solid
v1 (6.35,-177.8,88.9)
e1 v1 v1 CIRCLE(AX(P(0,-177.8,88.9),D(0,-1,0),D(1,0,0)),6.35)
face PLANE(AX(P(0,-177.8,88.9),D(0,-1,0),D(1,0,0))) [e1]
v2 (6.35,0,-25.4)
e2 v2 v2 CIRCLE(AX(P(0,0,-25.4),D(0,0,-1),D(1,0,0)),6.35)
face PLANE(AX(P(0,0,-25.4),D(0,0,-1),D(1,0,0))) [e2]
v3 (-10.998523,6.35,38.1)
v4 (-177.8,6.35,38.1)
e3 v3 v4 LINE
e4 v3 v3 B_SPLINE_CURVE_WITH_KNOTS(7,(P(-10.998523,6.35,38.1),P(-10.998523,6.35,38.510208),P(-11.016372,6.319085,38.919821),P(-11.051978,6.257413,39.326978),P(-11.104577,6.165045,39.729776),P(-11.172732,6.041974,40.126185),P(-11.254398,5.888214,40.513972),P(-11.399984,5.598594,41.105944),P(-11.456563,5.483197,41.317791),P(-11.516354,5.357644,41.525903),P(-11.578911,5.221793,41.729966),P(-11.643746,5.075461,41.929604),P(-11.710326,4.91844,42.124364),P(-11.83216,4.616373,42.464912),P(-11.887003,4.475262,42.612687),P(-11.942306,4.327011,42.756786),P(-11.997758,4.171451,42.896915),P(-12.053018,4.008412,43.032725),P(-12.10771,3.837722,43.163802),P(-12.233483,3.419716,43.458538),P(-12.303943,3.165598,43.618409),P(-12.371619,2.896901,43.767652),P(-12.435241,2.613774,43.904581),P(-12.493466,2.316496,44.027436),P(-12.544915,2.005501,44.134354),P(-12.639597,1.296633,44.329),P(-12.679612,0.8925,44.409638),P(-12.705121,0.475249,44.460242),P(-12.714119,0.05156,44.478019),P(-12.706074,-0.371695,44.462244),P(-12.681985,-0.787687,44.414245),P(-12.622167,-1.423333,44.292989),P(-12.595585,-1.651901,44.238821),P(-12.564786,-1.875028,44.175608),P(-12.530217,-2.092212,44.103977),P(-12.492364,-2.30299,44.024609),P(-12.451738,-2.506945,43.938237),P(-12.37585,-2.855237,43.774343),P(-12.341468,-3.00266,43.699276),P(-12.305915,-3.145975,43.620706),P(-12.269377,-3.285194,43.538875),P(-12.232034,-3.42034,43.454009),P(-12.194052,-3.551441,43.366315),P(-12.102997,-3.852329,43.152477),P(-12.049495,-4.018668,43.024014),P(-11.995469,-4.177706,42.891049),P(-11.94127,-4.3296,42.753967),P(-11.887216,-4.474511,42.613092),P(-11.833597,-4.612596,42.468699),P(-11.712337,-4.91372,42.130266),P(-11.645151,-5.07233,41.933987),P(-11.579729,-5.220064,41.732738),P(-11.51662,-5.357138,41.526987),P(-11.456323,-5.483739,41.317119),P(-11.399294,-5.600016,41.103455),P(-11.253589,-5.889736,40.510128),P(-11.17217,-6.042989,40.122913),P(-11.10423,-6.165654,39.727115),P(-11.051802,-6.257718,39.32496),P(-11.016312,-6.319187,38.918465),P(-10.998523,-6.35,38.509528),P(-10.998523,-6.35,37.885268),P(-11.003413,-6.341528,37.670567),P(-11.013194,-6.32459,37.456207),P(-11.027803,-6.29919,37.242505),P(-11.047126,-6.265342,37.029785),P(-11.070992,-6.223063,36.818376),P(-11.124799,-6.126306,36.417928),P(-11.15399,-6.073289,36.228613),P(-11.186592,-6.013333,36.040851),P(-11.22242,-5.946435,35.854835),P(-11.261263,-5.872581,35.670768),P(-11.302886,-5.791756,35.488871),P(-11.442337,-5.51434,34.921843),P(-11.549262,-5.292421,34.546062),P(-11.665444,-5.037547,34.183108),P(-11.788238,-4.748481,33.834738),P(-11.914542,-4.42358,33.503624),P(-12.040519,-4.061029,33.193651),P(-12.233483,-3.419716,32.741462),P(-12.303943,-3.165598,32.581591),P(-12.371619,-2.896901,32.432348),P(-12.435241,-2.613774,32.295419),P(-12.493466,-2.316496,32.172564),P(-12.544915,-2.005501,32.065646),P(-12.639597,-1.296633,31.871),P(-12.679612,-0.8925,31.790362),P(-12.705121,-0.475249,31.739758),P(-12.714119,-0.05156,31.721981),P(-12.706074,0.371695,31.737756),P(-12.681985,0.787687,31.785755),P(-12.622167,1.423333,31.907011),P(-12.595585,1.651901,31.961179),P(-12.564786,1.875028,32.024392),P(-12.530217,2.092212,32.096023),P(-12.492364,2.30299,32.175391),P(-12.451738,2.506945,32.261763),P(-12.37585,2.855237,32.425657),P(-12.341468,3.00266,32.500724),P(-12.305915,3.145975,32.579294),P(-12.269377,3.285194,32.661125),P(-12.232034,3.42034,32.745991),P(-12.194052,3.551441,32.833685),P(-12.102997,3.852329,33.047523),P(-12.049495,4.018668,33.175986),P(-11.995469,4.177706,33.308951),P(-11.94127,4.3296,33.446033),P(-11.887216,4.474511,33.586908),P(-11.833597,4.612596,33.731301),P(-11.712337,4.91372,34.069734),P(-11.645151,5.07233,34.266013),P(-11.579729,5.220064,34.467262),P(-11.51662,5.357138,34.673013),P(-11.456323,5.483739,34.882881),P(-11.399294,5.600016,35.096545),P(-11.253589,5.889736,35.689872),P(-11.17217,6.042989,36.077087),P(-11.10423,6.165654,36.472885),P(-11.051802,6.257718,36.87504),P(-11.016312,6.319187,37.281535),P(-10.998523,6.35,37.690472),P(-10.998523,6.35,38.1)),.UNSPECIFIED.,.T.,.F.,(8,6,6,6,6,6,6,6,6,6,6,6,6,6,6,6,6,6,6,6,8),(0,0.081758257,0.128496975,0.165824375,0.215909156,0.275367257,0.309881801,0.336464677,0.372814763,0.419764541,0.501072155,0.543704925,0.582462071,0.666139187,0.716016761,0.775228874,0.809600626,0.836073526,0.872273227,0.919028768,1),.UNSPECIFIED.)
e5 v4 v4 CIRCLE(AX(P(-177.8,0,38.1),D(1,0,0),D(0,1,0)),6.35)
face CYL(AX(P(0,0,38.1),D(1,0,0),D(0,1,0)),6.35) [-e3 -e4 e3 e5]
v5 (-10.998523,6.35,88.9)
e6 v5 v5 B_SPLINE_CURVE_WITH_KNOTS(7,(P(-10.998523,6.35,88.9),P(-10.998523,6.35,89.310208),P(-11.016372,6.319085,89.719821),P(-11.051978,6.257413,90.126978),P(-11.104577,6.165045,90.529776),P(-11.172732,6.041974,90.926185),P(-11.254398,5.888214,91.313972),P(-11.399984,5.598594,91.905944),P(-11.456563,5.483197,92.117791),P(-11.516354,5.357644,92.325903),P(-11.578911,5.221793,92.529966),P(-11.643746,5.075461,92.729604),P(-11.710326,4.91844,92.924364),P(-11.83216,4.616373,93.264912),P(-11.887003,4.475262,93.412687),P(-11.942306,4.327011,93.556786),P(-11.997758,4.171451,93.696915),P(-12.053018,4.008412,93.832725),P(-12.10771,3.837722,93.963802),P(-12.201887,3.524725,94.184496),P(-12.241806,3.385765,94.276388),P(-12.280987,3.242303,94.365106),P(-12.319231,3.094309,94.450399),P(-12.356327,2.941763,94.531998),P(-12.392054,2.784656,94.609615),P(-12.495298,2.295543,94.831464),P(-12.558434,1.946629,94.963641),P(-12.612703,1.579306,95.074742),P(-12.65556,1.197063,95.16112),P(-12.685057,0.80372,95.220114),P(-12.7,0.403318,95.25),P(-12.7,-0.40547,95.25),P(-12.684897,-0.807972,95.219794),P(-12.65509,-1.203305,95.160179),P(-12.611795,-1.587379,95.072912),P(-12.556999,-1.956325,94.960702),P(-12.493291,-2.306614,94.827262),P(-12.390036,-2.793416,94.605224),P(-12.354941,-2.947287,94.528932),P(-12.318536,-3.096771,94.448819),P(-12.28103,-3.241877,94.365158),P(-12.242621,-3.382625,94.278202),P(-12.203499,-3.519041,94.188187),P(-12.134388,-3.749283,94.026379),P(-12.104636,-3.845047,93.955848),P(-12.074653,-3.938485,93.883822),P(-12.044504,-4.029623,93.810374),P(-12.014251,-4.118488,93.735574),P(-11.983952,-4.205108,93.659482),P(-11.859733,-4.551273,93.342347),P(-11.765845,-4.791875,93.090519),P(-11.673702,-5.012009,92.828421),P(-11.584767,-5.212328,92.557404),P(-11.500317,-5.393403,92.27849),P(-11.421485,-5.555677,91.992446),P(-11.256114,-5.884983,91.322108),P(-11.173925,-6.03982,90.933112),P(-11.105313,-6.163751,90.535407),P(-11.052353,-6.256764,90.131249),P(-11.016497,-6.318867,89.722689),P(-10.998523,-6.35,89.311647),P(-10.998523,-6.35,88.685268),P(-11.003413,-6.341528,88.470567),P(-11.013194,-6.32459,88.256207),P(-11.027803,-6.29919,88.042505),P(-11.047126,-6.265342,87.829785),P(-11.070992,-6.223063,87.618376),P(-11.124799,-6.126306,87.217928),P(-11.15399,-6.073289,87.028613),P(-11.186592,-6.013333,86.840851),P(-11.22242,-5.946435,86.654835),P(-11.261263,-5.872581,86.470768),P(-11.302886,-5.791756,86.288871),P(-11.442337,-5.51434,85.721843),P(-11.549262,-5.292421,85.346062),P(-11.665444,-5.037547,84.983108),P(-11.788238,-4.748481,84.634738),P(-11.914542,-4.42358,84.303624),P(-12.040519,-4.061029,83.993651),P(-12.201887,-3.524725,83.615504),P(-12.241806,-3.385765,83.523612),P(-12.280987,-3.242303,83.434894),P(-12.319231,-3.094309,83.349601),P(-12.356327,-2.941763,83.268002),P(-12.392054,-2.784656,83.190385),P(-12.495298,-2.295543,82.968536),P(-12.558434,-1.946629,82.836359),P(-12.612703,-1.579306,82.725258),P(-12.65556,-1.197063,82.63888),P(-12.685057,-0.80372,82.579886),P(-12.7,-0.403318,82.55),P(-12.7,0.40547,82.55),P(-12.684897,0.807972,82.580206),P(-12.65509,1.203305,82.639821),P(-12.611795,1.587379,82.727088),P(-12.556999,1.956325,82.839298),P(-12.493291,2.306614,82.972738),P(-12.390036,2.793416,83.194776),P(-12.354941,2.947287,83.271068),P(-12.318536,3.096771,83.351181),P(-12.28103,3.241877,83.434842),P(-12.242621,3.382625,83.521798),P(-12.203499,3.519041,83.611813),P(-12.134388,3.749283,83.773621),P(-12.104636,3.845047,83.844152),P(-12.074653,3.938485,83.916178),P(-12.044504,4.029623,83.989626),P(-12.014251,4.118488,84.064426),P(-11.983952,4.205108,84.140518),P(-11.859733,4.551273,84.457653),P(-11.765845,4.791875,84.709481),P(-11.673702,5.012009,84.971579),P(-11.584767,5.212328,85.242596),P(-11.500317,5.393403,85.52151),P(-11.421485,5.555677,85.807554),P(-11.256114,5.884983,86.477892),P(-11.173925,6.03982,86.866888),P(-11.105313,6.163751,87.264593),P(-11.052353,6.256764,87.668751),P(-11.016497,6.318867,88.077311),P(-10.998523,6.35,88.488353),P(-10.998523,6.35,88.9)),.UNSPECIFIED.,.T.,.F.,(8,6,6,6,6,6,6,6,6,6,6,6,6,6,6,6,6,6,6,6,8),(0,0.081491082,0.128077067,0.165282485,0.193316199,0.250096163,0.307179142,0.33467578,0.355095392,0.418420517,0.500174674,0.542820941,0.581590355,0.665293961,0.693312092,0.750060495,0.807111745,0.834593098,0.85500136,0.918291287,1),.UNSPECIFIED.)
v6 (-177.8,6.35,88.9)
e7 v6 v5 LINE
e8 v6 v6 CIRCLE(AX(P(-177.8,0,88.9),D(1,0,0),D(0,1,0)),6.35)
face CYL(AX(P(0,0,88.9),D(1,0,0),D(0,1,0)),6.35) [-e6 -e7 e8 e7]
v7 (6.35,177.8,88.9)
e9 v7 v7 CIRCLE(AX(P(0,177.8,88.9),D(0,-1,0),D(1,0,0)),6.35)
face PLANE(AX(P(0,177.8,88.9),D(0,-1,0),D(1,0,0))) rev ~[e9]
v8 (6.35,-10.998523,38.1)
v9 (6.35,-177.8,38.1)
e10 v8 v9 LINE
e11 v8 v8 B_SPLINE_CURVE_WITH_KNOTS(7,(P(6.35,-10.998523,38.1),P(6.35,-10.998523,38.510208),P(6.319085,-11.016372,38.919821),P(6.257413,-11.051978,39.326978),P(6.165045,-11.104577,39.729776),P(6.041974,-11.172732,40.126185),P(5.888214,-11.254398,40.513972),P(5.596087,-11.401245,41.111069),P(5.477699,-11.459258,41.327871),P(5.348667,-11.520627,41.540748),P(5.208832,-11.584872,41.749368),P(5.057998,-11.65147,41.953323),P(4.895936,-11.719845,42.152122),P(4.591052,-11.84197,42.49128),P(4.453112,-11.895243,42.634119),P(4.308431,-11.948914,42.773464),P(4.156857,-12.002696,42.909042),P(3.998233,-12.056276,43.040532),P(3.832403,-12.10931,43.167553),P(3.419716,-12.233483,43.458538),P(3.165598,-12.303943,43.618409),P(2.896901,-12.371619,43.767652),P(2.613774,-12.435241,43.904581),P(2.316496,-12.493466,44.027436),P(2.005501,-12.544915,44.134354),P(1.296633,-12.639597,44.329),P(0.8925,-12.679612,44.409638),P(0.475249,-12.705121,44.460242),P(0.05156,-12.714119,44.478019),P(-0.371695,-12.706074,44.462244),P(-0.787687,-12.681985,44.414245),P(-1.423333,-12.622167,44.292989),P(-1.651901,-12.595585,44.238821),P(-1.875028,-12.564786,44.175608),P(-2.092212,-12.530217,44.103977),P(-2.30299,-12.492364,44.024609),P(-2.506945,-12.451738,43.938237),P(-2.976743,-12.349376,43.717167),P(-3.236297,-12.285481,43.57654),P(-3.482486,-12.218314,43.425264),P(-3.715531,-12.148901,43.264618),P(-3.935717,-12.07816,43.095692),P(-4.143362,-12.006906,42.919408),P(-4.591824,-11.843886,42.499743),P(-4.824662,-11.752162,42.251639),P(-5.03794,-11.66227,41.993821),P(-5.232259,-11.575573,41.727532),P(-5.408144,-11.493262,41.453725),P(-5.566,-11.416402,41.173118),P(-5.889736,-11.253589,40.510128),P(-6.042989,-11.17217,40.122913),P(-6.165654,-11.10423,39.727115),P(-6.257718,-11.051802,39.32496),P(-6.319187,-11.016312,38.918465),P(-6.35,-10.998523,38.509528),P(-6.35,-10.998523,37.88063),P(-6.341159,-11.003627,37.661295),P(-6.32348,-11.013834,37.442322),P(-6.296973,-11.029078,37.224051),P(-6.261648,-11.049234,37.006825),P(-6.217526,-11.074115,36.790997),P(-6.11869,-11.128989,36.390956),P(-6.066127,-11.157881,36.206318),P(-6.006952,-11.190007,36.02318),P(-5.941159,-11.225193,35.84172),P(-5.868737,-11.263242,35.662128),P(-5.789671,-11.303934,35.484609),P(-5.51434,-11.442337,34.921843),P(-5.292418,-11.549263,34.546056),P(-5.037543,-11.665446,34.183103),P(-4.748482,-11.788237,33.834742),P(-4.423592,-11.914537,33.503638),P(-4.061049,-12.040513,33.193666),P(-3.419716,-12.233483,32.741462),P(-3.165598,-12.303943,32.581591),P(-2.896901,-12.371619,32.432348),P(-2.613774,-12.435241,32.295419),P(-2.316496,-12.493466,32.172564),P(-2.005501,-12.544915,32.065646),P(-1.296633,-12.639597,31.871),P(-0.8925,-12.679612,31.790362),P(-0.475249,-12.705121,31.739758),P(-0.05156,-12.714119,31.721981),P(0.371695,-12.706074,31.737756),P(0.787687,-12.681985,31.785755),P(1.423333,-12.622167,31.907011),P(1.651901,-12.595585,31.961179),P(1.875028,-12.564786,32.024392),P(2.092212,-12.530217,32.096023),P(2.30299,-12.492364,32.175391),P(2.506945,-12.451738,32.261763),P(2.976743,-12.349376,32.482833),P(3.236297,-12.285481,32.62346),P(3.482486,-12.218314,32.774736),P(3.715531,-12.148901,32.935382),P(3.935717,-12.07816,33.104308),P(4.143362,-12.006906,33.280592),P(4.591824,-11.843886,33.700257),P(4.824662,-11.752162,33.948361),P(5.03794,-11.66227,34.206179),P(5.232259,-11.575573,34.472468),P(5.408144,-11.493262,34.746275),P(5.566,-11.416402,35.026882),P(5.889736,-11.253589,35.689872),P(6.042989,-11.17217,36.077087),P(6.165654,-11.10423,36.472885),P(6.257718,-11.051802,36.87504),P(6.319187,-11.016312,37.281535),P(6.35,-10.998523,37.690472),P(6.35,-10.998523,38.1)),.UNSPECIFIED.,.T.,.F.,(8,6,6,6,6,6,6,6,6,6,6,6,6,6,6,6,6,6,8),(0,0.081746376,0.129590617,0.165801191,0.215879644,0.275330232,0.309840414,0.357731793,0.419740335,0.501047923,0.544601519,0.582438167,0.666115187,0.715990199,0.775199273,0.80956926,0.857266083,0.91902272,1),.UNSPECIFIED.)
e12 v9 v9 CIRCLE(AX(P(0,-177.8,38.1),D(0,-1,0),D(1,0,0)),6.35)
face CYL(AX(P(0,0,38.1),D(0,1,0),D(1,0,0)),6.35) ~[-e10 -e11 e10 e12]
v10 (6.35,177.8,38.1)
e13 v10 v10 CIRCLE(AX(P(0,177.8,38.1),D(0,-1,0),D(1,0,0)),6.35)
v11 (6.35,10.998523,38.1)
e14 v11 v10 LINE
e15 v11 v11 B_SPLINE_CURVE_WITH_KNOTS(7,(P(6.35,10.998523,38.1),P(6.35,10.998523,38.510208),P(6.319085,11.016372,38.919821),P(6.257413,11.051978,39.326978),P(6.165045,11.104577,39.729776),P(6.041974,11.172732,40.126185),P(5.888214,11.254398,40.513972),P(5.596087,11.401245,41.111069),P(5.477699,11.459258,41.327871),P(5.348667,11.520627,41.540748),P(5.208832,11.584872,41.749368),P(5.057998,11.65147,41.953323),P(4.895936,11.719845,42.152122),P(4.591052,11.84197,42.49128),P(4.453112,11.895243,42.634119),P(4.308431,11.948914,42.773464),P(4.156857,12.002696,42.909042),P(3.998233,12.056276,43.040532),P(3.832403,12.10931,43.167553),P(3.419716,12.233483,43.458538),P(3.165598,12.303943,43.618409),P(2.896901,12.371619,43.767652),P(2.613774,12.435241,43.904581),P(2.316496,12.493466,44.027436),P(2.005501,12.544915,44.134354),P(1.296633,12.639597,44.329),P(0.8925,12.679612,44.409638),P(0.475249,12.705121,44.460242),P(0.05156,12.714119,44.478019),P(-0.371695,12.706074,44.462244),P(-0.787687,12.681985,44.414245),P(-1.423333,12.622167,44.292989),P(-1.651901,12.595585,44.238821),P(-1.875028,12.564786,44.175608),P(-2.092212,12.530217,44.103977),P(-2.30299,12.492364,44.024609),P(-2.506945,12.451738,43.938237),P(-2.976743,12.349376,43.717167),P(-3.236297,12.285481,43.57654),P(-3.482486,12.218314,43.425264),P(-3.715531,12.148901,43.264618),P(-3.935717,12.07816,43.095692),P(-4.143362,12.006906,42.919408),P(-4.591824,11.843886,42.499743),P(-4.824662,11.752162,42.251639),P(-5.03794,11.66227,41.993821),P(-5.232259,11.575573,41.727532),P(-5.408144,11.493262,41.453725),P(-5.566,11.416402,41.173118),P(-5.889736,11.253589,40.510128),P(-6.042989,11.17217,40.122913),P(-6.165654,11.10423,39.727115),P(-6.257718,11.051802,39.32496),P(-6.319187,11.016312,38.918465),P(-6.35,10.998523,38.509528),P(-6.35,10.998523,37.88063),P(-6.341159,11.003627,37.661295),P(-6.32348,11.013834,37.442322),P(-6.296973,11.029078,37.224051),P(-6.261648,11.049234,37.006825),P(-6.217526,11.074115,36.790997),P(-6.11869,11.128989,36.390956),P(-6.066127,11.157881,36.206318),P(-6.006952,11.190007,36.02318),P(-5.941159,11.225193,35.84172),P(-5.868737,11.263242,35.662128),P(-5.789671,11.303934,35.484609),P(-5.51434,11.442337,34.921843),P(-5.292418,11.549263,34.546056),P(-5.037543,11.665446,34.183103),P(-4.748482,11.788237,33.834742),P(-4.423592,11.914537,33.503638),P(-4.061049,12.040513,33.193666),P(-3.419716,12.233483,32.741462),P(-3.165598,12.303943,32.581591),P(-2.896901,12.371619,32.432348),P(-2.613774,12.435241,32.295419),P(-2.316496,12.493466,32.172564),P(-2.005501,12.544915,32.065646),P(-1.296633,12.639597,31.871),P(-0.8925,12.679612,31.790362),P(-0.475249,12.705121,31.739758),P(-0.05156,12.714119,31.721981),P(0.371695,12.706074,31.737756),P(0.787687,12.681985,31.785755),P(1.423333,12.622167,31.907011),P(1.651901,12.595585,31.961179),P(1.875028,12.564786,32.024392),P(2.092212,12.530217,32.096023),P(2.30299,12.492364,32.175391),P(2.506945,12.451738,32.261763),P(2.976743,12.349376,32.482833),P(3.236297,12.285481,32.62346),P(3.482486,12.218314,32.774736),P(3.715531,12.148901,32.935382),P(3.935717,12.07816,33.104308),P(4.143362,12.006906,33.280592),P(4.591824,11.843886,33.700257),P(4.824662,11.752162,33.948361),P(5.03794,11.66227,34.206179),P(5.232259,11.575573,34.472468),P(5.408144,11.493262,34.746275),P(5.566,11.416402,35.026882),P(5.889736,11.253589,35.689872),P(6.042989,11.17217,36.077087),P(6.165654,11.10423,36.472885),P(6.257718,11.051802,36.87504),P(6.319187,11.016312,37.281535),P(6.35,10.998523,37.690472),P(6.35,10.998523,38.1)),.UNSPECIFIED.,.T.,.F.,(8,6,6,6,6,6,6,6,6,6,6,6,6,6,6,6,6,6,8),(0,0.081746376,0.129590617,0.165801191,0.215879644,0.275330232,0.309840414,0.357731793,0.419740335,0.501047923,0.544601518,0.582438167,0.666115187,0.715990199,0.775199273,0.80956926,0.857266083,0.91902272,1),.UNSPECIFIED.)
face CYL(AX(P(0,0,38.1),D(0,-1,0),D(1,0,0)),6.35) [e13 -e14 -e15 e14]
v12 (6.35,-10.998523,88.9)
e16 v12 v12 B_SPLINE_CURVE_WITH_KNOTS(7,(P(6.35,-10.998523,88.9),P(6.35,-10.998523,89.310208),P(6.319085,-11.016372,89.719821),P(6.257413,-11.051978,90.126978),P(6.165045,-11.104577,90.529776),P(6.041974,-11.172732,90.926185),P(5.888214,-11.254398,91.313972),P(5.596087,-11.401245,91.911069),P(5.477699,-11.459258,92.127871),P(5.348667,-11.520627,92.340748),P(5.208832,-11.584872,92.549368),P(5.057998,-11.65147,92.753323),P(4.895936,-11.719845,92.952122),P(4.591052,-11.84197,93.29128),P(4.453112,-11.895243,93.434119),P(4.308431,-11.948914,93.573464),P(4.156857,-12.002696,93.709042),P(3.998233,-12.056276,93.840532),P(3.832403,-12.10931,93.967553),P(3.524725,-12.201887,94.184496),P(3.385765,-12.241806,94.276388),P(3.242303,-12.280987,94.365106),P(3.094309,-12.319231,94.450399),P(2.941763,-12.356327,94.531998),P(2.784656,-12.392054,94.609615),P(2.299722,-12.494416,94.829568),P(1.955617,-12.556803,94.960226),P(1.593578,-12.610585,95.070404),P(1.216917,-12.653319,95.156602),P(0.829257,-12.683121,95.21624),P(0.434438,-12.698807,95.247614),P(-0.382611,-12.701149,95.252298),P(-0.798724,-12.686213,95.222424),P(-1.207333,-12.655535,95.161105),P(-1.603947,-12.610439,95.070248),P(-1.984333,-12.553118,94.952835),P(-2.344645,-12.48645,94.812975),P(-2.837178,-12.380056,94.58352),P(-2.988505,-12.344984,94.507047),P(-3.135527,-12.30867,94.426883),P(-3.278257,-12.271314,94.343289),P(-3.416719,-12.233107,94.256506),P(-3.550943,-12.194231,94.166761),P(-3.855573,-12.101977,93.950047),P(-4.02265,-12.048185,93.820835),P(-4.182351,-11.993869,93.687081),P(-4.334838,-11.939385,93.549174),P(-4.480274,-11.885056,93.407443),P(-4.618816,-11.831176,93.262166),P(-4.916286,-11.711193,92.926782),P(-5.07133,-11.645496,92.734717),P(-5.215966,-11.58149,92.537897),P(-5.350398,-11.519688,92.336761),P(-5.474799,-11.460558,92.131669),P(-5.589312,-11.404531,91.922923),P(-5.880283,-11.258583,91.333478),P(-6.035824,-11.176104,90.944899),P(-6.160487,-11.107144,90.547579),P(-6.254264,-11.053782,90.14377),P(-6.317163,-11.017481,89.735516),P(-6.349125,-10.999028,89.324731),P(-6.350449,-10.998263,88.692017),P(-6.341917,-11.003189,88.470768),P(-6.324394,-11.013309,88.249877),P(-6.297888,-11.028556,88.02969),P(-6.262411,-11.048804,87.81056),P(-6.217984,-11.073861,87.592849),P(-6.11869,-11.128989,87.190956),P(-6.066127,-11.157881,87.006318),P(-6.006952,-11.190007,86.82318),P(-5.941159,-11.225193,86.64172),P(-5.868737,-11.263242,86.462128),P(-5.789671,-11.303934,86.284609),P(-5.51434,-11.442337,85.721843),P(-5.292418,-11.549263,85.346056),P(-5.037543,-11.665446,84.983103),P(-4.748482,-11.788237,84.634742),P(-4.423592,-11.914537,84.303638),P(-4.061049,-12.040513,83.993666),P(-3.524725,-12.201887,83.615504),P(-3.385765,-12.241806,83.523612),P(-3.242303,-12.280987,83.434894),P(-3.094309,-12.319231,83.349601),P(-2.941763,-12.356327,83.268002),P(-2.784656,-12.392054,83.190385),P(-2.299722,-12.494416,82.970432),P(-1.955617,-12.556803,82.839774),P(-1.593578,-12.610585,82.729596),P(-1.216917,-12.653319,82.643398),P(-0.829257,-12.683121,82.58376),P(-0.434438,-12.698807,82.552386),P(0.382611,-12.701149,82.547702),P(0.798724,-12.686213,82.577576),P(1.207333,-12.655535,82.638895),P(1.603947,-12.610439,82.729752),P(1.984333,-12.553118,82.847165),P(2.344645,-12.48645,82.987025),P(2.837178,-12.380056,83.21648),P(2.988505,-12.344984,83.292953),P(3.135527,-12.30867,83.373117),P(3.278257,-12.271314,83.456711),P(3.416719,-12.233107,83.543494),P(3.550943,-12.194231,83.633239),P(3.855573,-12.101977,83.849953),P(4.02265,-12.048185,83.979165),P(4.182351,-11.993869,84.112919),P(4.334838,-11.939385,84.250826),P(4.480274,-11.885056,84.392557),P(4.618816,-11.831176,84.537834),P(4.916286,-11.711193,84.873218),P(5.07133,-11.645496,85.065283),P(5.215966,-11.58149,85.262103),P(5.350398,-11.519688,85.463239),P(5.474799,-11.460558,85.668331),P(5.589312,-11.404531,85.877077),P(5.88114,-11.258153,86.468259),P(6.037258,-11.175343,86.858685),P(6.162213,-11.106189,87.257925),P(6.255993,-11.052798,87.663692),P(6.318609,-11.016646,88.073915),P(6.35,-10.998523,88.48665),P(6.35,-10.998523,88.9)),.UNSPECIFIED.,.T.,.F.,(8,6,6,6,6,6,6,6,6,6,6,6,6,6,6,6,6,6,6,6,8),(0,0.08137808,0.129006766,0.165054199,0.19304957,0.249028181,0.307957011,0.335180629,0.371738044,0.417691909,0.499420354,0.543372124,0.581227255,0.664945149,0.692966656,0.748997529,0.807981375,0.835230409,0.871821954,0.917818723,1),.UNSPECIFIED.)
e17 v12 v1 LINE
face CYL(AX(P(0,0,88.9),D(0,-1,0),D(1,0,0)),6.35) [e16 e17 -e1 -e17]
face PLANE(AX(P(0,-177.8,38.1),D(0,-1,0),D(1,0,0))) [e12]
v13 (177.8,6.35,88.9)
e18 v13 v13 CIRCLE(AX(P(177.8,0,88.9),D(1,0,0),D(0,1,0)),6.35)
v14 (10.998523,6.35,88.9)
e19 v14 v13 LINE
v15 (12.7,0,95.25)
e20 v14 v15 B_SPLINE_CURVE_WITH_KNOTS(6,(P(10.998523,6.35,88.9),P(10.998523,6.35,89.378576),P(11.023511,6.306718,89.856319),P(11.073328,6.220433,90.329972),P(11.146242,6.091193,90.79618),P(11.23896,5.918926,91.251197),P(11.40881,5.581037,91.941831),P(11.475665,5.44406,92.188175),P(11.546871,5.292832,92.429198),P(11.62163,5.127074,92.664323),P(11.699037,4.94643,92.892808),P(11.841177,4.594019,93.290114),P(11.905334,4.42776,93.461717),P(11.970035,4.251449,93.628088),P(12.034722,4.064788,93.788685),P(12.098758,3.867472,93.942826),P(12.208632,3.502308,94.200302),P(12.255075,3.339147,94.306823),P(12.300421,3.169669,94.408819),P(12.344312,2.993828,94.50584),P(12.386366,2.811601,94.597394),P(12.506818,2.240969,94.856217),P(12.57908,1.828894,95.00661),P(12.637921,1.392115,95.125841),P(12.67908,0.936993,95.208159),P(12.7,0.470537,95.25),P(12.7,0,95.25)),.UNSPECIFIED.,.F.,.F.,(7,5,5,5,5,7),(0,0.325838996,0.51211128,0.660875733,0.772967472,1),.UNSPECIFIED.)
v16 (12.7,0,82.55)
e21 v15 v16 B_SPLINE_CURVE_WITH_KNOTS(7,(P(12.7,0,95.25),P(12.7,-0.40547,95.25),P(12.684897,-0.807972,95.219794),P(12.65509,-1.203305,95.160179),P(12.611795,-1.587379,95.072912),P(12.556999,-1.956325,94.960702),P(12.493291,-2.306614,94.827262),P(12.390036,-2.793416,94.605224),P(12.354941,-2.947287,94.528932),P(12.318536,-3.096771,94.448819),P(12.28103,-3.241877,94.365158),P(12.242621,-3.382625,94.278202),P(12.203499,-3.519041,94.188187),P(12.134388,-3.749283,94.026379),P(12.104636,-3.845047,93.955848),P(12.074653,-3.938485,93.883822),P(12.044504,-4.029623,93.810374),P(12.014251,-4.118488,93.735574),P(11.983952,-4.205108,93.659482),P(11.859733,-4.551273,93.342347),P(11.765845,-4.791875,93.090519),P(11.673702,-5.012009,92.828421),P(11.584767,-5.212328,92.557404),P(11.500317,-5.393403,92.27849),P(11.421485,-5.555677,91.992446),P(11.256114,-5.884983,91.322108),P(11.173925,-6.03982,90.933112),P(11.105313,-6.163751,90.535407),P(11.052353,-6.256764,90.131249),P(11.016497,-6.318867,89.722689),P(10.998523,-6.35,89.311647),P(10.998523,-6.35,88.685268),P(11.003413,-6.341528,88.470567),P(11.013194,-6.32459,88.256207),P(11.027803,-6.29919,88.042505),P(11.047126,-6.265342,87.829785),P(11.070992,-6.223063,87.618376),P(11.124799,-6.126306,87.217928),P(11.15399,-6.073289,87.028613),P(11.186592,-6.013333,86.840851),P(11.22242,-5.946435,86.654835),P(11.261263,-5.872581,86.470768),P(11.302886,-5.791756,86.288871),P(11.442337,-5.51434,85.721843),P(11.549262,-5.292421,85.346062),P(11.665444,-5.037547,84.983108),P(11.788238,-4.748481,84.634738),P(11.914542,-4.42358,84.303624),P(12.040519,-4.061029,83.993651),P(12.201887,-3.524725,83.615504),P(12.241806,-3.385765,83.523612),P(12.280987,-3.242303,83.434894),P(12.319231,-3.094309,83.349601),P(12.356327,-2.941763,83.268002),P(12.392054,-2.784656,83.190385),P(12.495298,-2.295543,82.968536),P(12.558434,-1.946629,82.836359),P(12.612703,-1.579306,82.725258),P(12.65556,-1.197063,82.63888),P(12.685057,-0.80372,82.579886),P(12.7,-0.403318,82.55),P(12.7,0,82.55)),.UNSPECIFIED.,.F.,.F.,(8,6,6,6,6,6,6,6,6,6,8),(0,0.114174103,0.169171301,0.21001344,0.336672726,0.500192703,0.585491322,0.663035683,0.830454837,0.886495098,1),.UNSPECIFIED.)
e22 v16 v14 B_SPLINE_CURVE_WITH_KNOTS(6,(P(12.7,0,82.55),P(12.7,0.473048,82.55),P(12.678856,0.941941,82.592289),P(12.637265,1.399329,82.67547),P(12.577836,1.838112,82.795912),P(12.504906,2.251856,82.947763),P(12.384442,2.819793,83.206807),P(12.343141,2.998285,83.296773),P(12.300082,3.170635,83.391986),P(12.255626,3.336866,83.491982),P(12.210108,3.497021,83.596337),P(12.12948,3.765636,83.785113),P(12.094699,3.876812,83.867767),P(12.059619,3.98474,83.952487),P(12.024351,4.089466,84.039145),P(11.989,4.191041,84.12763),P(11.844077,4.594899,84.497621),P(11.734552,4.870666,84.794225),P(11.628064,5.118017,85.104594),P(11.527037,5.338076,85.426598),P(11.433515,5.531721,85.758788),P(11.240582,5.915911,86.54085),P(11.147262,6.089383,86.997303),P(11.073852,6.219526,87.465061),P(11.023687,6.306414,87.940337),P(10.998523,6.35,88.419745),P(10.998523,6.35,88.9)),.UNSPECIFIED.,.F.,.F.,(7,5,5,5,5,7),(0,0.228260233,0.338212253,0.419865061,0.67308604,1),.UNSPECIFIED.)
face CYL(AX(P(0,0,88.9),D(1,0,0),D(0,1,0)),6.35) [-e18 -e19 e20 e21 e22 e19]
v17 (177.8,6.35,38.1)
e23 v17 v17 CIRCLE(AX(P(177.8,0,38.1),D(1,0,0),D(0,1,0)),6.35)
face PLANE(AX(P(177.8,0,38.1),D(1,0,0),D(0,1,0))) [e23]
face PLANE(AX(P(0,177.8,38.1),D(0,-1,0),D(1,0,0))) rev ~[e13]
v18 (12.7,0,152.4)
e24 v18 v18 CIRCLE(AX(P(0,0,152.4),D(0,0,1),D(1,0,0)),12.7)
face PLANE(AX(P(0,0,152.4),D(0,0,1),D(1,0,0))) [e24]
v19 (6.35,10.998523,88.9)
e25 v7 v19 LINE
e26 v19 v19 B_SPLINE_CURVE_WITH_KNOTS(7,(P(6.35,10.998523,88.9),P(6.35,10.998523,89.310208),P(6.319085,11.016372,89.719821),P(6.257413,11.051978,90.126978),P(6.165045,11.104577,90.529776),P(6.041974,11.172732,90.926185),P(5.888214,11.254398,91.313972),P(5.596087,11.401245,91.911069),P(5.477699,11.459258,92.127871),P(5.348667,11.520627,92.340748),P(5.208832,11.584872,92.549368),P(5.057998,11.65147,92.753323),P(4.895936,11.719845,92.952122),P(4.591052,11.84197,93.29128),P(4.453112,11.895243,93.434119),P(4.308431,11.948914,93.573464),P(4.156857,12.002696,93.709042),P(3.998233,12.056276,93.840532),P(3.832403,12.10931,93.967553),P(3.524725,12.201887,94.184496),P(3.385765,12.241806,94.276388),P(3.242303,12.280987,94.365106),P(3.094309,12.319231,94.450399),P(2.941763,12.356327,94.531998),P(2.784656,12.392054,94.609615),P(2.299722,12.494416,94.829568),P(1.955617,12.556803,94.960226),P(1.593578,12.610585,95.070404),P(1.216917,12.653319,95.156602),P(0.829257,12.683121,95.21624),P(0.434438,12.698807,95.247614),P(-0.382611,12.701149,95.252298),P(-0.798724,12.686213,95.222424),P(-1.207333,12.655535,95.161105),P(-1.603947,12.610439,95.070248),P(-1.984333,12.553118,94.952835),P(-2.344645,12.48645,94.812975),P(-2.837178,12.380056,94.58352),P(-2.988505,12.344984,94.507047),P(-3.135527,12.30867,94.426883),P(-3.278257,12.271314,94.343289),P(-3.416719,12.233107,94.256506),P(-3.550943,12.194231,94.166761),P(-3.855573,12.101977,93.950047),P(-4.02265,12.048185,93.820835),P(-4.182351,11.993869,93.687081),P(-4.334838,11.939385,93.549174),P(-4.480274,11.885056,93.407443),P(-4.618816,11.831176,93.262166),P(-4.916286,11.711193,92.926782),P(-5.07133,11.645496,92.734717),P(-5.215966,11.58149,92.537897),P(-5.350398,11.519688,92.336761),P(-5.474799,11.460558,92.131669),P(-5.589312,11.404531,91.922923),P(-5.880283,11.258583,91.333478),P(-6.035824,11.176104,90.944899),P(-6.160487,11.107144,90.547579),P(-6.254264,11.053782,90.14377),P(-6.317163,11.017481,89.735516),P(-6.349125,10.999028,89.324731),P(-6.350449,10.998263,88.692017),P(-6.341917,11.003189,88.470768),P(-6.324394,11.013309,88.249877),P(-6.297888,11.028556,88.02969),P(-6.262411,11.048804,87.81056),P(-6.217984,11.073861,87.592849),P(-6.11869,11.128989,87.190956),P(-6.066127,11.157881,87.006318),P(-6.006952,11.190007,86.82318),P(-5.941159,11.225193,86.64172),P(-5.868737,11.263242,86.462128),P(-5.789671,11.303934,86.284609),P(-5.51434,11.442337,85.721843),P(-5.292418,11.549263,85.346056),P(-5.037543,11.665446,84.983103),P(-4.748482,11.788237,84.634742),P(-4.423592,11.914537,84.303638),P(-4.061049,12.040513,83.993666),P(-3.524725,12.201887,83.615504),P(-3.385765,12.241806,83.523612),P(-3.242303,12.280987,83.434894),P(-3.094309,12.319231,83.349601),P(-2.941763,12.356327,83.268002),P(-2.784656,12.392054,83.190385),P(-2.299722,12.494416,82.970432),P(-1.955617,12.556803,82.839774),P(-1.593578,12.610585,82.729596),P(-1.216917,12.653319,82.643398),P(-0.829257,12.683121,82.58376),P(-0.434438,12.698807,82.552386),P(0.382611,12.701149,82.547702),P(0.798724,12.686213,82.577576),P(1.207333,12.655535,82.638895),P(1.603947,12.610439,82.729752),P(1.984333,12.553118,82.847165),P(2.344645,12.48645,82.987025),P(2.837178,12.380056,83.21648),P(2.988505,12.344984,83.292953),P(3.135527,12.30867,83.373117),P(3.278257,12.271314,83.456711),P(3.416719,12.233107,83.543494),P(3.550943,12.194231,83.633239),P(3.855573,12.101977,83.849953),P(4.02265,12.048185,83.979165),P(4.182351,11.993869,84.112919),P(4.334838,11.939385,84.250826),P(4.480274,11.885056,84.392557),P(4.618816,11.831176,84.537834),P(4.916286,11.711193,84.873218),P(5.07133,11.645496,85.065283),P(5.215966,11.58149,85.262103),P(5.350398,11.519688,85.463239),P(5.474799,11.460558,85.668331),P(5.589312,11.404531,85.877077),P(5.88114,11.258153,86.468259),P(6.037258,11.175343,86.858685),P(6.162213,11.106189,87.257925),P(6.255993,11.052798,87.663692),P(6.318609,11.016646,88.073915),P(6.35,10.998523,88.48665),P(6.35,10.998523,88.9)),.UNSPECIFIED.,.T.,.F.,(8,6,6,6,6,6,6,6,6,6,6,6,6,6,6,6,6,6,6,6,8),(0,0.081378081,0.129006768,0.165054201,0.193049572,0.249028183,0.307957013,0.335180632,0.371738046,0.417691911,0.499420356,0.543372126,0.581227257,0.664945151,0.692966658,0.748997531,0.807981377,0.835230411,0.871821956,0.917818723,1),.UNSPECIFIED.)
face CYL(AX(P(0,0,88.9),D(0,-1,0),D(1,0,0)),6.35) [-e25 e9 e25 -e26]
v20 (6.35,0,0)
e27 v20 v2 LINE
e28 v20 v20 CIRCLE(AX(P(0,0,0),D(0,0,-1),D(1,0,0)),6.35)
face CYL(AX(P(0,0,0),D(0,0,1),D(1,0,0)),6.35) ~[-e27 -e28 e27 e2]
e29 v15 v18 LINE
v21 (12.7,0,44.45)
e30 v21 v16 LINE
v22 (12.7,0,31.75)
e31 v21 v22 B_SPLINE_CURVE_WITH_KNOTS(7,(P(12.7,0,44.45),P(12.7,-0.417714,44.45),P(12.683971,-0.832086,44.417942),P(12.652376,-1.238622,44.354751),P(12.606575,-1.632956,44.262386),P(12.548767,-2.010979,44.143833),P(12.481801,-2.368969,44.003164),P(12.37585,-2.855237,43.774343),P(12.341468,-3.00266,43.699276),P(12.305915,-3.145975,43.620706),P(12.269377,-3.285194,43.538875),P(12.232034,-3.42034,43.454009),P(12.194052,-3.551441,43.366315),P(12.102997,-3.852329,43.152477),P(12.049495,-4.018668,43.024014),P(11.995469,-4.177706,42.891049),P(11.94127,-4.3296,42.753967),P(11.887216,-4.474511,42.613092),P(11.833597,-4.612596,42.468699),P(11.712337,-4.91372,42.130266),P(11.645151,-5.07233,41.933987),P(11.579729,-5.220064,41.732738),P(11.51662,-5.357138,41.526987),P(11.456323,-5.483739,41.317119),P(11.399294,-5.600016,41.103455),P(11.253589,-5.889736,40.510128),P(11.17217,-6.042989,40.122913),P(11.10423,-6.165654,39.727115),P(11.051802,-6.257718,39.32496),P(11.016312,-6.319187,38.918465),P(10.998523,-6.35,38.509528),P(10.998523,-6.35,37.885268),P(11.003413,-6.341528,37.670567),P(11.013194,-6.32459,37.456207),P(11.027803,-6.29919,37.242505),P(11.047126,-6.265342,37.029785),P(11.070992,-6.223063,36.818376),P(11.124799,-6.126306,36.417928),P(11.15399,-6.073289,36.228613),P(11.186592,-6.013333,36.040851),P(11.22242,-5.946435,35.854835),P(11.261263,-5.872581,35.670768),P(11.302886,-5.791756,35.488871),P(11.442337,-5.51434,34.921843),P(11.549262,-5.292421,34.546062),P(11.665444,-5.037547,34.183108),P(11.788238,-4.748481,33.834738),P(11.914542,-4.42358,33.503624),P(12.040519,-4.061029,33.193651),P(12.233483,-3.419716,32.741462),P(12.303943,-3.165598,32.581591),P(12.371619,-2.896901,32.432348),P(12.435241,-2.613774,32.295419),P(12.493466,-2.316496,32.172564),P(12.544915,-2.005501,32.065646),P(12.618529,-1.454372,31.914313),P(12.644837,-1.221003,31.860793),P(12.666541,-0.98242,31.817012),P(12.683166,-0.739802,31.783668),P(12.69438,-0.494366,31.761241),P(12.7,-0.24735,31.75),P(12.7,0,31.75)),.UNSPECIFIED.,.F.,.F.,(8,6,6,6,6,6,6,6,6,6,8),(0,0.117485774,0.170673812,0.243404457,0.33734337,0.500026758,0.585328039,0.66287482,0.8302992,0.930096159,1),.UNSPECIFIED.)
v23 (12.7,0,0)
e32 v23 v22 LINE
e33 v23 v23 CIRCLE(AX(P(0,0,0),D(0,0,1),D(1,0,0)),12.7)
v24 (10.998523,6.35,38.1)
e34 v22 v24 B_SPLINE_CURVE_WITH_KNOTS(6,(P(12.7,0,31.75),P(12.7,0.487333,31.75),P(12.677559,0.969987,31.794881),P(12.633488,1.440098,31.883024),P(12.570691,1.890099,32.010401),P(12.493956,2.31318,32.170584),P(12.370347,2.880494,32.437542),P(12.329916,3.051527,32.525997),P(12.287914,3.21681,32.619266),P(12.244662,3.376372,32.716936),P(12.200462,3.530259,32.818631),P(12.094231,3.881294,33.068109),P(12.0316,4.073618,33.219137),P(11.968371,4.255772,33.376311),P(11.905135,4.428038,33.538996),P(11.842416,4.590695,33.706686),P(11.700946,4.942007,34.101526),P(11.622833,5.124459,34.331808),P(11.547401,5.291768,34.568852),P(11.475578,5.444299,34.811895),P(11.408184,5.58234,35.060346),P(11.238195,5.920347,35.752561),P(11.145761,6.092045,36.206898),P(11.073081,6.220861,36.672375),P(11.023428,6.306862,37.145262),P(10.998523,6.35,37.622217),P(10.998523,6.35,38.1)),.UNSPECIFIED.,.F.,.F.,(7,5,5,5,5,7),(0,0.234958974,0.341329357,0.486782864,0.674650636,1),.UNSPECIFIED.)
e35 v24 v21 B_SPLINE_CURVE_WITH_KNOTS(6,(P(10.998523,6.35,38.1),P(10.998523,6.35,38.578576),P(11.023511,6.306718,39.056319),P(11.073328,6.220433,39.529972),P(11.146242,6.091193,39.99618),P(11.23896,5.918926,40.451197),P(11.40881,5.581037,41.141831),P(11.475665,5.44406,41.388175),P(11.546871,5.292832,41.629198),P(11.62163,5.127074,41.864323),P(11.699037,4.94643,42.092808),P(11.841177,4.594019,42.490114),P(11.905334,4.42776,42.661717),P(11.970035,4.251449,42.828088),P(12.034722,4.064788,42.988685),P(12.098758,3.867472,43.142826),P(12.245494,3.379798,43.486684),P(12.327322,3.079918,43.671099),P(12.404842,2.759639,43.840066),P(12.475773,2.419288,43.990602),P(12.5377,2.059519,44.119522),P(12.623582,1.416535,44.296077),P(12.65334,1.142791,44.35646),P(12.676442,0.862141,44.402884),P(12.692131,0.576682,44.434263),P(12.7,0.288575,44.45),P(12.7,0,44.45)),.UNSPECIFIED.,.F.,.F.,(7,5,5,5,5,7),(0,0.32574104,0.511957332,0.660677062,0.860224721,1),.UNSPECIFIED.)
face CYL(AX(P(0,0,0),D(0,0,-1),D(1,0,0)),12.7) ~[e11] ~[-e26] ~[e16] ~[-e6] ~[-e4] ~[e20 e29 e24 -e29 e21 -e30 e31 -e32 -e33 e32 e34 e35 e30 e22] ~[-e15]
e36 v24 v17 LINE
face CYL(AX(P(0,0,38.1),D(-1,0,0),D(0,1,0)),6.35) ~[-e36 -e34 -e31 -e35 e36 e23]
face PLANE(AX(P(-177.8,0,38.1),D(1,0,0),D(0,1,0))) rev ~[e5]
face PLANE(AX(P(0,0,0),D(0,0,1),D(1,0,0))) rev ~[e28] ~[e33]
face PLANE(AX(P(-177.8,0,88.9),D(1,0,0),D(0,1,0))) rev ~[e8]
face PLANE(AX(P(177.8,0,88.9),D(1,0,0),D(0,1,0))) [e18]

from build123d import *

# Parameters (mm, degrees)
F0_R     = 12.7
F1_DEPTH = 152.4
F2_R     = 6.35
F3_DEPTH = 25.4
F5_R     = 6.35
F4_R     = 6.35
F6_DEPTH = 177.8
F7_R     = 6.35
F8_DEPTH = 177.8


with BuildPart() as f1:
    # F0 (on Top) → F1 (new body)
    with BuildSketch(Plane.XY):
        Circle(F0_R)
    extrude(amount=F1_DEPTH)

    # F2 (on face) → F3 (join)
    with BuildSketch(Plane(origin=(0, 0, 0), x_dir=(1, 0, 0), z_dir=(0, 0, -1))):
        Circle(F2_R)
    extrude(amount=F3_DEPTH)

    # F5 (on Front) + F4 (on Front) → F6 (join, symmetric)
    with BuildSketch(Plane.XZ):
        with Locations((0, 38.1)):
            Circle(F5_R)
    with BuildSketch(Plane.XZ):
        with Locations((0, 88.9)):
            Circle(F4_R)
    extrude(amount=F6_DEPTH, both=True)

    # F7 (on Right) → F8 (join, symmetric)
    with BuildSketch(Plane.YZ):
        with Locations((0, 38.1)):
            Circle(F7_R)
        with Locations((0, 88.9)):
            Circle(F7_R)
    extrude(amount=F8_DEPTH, both=True)


solid = f1.part
